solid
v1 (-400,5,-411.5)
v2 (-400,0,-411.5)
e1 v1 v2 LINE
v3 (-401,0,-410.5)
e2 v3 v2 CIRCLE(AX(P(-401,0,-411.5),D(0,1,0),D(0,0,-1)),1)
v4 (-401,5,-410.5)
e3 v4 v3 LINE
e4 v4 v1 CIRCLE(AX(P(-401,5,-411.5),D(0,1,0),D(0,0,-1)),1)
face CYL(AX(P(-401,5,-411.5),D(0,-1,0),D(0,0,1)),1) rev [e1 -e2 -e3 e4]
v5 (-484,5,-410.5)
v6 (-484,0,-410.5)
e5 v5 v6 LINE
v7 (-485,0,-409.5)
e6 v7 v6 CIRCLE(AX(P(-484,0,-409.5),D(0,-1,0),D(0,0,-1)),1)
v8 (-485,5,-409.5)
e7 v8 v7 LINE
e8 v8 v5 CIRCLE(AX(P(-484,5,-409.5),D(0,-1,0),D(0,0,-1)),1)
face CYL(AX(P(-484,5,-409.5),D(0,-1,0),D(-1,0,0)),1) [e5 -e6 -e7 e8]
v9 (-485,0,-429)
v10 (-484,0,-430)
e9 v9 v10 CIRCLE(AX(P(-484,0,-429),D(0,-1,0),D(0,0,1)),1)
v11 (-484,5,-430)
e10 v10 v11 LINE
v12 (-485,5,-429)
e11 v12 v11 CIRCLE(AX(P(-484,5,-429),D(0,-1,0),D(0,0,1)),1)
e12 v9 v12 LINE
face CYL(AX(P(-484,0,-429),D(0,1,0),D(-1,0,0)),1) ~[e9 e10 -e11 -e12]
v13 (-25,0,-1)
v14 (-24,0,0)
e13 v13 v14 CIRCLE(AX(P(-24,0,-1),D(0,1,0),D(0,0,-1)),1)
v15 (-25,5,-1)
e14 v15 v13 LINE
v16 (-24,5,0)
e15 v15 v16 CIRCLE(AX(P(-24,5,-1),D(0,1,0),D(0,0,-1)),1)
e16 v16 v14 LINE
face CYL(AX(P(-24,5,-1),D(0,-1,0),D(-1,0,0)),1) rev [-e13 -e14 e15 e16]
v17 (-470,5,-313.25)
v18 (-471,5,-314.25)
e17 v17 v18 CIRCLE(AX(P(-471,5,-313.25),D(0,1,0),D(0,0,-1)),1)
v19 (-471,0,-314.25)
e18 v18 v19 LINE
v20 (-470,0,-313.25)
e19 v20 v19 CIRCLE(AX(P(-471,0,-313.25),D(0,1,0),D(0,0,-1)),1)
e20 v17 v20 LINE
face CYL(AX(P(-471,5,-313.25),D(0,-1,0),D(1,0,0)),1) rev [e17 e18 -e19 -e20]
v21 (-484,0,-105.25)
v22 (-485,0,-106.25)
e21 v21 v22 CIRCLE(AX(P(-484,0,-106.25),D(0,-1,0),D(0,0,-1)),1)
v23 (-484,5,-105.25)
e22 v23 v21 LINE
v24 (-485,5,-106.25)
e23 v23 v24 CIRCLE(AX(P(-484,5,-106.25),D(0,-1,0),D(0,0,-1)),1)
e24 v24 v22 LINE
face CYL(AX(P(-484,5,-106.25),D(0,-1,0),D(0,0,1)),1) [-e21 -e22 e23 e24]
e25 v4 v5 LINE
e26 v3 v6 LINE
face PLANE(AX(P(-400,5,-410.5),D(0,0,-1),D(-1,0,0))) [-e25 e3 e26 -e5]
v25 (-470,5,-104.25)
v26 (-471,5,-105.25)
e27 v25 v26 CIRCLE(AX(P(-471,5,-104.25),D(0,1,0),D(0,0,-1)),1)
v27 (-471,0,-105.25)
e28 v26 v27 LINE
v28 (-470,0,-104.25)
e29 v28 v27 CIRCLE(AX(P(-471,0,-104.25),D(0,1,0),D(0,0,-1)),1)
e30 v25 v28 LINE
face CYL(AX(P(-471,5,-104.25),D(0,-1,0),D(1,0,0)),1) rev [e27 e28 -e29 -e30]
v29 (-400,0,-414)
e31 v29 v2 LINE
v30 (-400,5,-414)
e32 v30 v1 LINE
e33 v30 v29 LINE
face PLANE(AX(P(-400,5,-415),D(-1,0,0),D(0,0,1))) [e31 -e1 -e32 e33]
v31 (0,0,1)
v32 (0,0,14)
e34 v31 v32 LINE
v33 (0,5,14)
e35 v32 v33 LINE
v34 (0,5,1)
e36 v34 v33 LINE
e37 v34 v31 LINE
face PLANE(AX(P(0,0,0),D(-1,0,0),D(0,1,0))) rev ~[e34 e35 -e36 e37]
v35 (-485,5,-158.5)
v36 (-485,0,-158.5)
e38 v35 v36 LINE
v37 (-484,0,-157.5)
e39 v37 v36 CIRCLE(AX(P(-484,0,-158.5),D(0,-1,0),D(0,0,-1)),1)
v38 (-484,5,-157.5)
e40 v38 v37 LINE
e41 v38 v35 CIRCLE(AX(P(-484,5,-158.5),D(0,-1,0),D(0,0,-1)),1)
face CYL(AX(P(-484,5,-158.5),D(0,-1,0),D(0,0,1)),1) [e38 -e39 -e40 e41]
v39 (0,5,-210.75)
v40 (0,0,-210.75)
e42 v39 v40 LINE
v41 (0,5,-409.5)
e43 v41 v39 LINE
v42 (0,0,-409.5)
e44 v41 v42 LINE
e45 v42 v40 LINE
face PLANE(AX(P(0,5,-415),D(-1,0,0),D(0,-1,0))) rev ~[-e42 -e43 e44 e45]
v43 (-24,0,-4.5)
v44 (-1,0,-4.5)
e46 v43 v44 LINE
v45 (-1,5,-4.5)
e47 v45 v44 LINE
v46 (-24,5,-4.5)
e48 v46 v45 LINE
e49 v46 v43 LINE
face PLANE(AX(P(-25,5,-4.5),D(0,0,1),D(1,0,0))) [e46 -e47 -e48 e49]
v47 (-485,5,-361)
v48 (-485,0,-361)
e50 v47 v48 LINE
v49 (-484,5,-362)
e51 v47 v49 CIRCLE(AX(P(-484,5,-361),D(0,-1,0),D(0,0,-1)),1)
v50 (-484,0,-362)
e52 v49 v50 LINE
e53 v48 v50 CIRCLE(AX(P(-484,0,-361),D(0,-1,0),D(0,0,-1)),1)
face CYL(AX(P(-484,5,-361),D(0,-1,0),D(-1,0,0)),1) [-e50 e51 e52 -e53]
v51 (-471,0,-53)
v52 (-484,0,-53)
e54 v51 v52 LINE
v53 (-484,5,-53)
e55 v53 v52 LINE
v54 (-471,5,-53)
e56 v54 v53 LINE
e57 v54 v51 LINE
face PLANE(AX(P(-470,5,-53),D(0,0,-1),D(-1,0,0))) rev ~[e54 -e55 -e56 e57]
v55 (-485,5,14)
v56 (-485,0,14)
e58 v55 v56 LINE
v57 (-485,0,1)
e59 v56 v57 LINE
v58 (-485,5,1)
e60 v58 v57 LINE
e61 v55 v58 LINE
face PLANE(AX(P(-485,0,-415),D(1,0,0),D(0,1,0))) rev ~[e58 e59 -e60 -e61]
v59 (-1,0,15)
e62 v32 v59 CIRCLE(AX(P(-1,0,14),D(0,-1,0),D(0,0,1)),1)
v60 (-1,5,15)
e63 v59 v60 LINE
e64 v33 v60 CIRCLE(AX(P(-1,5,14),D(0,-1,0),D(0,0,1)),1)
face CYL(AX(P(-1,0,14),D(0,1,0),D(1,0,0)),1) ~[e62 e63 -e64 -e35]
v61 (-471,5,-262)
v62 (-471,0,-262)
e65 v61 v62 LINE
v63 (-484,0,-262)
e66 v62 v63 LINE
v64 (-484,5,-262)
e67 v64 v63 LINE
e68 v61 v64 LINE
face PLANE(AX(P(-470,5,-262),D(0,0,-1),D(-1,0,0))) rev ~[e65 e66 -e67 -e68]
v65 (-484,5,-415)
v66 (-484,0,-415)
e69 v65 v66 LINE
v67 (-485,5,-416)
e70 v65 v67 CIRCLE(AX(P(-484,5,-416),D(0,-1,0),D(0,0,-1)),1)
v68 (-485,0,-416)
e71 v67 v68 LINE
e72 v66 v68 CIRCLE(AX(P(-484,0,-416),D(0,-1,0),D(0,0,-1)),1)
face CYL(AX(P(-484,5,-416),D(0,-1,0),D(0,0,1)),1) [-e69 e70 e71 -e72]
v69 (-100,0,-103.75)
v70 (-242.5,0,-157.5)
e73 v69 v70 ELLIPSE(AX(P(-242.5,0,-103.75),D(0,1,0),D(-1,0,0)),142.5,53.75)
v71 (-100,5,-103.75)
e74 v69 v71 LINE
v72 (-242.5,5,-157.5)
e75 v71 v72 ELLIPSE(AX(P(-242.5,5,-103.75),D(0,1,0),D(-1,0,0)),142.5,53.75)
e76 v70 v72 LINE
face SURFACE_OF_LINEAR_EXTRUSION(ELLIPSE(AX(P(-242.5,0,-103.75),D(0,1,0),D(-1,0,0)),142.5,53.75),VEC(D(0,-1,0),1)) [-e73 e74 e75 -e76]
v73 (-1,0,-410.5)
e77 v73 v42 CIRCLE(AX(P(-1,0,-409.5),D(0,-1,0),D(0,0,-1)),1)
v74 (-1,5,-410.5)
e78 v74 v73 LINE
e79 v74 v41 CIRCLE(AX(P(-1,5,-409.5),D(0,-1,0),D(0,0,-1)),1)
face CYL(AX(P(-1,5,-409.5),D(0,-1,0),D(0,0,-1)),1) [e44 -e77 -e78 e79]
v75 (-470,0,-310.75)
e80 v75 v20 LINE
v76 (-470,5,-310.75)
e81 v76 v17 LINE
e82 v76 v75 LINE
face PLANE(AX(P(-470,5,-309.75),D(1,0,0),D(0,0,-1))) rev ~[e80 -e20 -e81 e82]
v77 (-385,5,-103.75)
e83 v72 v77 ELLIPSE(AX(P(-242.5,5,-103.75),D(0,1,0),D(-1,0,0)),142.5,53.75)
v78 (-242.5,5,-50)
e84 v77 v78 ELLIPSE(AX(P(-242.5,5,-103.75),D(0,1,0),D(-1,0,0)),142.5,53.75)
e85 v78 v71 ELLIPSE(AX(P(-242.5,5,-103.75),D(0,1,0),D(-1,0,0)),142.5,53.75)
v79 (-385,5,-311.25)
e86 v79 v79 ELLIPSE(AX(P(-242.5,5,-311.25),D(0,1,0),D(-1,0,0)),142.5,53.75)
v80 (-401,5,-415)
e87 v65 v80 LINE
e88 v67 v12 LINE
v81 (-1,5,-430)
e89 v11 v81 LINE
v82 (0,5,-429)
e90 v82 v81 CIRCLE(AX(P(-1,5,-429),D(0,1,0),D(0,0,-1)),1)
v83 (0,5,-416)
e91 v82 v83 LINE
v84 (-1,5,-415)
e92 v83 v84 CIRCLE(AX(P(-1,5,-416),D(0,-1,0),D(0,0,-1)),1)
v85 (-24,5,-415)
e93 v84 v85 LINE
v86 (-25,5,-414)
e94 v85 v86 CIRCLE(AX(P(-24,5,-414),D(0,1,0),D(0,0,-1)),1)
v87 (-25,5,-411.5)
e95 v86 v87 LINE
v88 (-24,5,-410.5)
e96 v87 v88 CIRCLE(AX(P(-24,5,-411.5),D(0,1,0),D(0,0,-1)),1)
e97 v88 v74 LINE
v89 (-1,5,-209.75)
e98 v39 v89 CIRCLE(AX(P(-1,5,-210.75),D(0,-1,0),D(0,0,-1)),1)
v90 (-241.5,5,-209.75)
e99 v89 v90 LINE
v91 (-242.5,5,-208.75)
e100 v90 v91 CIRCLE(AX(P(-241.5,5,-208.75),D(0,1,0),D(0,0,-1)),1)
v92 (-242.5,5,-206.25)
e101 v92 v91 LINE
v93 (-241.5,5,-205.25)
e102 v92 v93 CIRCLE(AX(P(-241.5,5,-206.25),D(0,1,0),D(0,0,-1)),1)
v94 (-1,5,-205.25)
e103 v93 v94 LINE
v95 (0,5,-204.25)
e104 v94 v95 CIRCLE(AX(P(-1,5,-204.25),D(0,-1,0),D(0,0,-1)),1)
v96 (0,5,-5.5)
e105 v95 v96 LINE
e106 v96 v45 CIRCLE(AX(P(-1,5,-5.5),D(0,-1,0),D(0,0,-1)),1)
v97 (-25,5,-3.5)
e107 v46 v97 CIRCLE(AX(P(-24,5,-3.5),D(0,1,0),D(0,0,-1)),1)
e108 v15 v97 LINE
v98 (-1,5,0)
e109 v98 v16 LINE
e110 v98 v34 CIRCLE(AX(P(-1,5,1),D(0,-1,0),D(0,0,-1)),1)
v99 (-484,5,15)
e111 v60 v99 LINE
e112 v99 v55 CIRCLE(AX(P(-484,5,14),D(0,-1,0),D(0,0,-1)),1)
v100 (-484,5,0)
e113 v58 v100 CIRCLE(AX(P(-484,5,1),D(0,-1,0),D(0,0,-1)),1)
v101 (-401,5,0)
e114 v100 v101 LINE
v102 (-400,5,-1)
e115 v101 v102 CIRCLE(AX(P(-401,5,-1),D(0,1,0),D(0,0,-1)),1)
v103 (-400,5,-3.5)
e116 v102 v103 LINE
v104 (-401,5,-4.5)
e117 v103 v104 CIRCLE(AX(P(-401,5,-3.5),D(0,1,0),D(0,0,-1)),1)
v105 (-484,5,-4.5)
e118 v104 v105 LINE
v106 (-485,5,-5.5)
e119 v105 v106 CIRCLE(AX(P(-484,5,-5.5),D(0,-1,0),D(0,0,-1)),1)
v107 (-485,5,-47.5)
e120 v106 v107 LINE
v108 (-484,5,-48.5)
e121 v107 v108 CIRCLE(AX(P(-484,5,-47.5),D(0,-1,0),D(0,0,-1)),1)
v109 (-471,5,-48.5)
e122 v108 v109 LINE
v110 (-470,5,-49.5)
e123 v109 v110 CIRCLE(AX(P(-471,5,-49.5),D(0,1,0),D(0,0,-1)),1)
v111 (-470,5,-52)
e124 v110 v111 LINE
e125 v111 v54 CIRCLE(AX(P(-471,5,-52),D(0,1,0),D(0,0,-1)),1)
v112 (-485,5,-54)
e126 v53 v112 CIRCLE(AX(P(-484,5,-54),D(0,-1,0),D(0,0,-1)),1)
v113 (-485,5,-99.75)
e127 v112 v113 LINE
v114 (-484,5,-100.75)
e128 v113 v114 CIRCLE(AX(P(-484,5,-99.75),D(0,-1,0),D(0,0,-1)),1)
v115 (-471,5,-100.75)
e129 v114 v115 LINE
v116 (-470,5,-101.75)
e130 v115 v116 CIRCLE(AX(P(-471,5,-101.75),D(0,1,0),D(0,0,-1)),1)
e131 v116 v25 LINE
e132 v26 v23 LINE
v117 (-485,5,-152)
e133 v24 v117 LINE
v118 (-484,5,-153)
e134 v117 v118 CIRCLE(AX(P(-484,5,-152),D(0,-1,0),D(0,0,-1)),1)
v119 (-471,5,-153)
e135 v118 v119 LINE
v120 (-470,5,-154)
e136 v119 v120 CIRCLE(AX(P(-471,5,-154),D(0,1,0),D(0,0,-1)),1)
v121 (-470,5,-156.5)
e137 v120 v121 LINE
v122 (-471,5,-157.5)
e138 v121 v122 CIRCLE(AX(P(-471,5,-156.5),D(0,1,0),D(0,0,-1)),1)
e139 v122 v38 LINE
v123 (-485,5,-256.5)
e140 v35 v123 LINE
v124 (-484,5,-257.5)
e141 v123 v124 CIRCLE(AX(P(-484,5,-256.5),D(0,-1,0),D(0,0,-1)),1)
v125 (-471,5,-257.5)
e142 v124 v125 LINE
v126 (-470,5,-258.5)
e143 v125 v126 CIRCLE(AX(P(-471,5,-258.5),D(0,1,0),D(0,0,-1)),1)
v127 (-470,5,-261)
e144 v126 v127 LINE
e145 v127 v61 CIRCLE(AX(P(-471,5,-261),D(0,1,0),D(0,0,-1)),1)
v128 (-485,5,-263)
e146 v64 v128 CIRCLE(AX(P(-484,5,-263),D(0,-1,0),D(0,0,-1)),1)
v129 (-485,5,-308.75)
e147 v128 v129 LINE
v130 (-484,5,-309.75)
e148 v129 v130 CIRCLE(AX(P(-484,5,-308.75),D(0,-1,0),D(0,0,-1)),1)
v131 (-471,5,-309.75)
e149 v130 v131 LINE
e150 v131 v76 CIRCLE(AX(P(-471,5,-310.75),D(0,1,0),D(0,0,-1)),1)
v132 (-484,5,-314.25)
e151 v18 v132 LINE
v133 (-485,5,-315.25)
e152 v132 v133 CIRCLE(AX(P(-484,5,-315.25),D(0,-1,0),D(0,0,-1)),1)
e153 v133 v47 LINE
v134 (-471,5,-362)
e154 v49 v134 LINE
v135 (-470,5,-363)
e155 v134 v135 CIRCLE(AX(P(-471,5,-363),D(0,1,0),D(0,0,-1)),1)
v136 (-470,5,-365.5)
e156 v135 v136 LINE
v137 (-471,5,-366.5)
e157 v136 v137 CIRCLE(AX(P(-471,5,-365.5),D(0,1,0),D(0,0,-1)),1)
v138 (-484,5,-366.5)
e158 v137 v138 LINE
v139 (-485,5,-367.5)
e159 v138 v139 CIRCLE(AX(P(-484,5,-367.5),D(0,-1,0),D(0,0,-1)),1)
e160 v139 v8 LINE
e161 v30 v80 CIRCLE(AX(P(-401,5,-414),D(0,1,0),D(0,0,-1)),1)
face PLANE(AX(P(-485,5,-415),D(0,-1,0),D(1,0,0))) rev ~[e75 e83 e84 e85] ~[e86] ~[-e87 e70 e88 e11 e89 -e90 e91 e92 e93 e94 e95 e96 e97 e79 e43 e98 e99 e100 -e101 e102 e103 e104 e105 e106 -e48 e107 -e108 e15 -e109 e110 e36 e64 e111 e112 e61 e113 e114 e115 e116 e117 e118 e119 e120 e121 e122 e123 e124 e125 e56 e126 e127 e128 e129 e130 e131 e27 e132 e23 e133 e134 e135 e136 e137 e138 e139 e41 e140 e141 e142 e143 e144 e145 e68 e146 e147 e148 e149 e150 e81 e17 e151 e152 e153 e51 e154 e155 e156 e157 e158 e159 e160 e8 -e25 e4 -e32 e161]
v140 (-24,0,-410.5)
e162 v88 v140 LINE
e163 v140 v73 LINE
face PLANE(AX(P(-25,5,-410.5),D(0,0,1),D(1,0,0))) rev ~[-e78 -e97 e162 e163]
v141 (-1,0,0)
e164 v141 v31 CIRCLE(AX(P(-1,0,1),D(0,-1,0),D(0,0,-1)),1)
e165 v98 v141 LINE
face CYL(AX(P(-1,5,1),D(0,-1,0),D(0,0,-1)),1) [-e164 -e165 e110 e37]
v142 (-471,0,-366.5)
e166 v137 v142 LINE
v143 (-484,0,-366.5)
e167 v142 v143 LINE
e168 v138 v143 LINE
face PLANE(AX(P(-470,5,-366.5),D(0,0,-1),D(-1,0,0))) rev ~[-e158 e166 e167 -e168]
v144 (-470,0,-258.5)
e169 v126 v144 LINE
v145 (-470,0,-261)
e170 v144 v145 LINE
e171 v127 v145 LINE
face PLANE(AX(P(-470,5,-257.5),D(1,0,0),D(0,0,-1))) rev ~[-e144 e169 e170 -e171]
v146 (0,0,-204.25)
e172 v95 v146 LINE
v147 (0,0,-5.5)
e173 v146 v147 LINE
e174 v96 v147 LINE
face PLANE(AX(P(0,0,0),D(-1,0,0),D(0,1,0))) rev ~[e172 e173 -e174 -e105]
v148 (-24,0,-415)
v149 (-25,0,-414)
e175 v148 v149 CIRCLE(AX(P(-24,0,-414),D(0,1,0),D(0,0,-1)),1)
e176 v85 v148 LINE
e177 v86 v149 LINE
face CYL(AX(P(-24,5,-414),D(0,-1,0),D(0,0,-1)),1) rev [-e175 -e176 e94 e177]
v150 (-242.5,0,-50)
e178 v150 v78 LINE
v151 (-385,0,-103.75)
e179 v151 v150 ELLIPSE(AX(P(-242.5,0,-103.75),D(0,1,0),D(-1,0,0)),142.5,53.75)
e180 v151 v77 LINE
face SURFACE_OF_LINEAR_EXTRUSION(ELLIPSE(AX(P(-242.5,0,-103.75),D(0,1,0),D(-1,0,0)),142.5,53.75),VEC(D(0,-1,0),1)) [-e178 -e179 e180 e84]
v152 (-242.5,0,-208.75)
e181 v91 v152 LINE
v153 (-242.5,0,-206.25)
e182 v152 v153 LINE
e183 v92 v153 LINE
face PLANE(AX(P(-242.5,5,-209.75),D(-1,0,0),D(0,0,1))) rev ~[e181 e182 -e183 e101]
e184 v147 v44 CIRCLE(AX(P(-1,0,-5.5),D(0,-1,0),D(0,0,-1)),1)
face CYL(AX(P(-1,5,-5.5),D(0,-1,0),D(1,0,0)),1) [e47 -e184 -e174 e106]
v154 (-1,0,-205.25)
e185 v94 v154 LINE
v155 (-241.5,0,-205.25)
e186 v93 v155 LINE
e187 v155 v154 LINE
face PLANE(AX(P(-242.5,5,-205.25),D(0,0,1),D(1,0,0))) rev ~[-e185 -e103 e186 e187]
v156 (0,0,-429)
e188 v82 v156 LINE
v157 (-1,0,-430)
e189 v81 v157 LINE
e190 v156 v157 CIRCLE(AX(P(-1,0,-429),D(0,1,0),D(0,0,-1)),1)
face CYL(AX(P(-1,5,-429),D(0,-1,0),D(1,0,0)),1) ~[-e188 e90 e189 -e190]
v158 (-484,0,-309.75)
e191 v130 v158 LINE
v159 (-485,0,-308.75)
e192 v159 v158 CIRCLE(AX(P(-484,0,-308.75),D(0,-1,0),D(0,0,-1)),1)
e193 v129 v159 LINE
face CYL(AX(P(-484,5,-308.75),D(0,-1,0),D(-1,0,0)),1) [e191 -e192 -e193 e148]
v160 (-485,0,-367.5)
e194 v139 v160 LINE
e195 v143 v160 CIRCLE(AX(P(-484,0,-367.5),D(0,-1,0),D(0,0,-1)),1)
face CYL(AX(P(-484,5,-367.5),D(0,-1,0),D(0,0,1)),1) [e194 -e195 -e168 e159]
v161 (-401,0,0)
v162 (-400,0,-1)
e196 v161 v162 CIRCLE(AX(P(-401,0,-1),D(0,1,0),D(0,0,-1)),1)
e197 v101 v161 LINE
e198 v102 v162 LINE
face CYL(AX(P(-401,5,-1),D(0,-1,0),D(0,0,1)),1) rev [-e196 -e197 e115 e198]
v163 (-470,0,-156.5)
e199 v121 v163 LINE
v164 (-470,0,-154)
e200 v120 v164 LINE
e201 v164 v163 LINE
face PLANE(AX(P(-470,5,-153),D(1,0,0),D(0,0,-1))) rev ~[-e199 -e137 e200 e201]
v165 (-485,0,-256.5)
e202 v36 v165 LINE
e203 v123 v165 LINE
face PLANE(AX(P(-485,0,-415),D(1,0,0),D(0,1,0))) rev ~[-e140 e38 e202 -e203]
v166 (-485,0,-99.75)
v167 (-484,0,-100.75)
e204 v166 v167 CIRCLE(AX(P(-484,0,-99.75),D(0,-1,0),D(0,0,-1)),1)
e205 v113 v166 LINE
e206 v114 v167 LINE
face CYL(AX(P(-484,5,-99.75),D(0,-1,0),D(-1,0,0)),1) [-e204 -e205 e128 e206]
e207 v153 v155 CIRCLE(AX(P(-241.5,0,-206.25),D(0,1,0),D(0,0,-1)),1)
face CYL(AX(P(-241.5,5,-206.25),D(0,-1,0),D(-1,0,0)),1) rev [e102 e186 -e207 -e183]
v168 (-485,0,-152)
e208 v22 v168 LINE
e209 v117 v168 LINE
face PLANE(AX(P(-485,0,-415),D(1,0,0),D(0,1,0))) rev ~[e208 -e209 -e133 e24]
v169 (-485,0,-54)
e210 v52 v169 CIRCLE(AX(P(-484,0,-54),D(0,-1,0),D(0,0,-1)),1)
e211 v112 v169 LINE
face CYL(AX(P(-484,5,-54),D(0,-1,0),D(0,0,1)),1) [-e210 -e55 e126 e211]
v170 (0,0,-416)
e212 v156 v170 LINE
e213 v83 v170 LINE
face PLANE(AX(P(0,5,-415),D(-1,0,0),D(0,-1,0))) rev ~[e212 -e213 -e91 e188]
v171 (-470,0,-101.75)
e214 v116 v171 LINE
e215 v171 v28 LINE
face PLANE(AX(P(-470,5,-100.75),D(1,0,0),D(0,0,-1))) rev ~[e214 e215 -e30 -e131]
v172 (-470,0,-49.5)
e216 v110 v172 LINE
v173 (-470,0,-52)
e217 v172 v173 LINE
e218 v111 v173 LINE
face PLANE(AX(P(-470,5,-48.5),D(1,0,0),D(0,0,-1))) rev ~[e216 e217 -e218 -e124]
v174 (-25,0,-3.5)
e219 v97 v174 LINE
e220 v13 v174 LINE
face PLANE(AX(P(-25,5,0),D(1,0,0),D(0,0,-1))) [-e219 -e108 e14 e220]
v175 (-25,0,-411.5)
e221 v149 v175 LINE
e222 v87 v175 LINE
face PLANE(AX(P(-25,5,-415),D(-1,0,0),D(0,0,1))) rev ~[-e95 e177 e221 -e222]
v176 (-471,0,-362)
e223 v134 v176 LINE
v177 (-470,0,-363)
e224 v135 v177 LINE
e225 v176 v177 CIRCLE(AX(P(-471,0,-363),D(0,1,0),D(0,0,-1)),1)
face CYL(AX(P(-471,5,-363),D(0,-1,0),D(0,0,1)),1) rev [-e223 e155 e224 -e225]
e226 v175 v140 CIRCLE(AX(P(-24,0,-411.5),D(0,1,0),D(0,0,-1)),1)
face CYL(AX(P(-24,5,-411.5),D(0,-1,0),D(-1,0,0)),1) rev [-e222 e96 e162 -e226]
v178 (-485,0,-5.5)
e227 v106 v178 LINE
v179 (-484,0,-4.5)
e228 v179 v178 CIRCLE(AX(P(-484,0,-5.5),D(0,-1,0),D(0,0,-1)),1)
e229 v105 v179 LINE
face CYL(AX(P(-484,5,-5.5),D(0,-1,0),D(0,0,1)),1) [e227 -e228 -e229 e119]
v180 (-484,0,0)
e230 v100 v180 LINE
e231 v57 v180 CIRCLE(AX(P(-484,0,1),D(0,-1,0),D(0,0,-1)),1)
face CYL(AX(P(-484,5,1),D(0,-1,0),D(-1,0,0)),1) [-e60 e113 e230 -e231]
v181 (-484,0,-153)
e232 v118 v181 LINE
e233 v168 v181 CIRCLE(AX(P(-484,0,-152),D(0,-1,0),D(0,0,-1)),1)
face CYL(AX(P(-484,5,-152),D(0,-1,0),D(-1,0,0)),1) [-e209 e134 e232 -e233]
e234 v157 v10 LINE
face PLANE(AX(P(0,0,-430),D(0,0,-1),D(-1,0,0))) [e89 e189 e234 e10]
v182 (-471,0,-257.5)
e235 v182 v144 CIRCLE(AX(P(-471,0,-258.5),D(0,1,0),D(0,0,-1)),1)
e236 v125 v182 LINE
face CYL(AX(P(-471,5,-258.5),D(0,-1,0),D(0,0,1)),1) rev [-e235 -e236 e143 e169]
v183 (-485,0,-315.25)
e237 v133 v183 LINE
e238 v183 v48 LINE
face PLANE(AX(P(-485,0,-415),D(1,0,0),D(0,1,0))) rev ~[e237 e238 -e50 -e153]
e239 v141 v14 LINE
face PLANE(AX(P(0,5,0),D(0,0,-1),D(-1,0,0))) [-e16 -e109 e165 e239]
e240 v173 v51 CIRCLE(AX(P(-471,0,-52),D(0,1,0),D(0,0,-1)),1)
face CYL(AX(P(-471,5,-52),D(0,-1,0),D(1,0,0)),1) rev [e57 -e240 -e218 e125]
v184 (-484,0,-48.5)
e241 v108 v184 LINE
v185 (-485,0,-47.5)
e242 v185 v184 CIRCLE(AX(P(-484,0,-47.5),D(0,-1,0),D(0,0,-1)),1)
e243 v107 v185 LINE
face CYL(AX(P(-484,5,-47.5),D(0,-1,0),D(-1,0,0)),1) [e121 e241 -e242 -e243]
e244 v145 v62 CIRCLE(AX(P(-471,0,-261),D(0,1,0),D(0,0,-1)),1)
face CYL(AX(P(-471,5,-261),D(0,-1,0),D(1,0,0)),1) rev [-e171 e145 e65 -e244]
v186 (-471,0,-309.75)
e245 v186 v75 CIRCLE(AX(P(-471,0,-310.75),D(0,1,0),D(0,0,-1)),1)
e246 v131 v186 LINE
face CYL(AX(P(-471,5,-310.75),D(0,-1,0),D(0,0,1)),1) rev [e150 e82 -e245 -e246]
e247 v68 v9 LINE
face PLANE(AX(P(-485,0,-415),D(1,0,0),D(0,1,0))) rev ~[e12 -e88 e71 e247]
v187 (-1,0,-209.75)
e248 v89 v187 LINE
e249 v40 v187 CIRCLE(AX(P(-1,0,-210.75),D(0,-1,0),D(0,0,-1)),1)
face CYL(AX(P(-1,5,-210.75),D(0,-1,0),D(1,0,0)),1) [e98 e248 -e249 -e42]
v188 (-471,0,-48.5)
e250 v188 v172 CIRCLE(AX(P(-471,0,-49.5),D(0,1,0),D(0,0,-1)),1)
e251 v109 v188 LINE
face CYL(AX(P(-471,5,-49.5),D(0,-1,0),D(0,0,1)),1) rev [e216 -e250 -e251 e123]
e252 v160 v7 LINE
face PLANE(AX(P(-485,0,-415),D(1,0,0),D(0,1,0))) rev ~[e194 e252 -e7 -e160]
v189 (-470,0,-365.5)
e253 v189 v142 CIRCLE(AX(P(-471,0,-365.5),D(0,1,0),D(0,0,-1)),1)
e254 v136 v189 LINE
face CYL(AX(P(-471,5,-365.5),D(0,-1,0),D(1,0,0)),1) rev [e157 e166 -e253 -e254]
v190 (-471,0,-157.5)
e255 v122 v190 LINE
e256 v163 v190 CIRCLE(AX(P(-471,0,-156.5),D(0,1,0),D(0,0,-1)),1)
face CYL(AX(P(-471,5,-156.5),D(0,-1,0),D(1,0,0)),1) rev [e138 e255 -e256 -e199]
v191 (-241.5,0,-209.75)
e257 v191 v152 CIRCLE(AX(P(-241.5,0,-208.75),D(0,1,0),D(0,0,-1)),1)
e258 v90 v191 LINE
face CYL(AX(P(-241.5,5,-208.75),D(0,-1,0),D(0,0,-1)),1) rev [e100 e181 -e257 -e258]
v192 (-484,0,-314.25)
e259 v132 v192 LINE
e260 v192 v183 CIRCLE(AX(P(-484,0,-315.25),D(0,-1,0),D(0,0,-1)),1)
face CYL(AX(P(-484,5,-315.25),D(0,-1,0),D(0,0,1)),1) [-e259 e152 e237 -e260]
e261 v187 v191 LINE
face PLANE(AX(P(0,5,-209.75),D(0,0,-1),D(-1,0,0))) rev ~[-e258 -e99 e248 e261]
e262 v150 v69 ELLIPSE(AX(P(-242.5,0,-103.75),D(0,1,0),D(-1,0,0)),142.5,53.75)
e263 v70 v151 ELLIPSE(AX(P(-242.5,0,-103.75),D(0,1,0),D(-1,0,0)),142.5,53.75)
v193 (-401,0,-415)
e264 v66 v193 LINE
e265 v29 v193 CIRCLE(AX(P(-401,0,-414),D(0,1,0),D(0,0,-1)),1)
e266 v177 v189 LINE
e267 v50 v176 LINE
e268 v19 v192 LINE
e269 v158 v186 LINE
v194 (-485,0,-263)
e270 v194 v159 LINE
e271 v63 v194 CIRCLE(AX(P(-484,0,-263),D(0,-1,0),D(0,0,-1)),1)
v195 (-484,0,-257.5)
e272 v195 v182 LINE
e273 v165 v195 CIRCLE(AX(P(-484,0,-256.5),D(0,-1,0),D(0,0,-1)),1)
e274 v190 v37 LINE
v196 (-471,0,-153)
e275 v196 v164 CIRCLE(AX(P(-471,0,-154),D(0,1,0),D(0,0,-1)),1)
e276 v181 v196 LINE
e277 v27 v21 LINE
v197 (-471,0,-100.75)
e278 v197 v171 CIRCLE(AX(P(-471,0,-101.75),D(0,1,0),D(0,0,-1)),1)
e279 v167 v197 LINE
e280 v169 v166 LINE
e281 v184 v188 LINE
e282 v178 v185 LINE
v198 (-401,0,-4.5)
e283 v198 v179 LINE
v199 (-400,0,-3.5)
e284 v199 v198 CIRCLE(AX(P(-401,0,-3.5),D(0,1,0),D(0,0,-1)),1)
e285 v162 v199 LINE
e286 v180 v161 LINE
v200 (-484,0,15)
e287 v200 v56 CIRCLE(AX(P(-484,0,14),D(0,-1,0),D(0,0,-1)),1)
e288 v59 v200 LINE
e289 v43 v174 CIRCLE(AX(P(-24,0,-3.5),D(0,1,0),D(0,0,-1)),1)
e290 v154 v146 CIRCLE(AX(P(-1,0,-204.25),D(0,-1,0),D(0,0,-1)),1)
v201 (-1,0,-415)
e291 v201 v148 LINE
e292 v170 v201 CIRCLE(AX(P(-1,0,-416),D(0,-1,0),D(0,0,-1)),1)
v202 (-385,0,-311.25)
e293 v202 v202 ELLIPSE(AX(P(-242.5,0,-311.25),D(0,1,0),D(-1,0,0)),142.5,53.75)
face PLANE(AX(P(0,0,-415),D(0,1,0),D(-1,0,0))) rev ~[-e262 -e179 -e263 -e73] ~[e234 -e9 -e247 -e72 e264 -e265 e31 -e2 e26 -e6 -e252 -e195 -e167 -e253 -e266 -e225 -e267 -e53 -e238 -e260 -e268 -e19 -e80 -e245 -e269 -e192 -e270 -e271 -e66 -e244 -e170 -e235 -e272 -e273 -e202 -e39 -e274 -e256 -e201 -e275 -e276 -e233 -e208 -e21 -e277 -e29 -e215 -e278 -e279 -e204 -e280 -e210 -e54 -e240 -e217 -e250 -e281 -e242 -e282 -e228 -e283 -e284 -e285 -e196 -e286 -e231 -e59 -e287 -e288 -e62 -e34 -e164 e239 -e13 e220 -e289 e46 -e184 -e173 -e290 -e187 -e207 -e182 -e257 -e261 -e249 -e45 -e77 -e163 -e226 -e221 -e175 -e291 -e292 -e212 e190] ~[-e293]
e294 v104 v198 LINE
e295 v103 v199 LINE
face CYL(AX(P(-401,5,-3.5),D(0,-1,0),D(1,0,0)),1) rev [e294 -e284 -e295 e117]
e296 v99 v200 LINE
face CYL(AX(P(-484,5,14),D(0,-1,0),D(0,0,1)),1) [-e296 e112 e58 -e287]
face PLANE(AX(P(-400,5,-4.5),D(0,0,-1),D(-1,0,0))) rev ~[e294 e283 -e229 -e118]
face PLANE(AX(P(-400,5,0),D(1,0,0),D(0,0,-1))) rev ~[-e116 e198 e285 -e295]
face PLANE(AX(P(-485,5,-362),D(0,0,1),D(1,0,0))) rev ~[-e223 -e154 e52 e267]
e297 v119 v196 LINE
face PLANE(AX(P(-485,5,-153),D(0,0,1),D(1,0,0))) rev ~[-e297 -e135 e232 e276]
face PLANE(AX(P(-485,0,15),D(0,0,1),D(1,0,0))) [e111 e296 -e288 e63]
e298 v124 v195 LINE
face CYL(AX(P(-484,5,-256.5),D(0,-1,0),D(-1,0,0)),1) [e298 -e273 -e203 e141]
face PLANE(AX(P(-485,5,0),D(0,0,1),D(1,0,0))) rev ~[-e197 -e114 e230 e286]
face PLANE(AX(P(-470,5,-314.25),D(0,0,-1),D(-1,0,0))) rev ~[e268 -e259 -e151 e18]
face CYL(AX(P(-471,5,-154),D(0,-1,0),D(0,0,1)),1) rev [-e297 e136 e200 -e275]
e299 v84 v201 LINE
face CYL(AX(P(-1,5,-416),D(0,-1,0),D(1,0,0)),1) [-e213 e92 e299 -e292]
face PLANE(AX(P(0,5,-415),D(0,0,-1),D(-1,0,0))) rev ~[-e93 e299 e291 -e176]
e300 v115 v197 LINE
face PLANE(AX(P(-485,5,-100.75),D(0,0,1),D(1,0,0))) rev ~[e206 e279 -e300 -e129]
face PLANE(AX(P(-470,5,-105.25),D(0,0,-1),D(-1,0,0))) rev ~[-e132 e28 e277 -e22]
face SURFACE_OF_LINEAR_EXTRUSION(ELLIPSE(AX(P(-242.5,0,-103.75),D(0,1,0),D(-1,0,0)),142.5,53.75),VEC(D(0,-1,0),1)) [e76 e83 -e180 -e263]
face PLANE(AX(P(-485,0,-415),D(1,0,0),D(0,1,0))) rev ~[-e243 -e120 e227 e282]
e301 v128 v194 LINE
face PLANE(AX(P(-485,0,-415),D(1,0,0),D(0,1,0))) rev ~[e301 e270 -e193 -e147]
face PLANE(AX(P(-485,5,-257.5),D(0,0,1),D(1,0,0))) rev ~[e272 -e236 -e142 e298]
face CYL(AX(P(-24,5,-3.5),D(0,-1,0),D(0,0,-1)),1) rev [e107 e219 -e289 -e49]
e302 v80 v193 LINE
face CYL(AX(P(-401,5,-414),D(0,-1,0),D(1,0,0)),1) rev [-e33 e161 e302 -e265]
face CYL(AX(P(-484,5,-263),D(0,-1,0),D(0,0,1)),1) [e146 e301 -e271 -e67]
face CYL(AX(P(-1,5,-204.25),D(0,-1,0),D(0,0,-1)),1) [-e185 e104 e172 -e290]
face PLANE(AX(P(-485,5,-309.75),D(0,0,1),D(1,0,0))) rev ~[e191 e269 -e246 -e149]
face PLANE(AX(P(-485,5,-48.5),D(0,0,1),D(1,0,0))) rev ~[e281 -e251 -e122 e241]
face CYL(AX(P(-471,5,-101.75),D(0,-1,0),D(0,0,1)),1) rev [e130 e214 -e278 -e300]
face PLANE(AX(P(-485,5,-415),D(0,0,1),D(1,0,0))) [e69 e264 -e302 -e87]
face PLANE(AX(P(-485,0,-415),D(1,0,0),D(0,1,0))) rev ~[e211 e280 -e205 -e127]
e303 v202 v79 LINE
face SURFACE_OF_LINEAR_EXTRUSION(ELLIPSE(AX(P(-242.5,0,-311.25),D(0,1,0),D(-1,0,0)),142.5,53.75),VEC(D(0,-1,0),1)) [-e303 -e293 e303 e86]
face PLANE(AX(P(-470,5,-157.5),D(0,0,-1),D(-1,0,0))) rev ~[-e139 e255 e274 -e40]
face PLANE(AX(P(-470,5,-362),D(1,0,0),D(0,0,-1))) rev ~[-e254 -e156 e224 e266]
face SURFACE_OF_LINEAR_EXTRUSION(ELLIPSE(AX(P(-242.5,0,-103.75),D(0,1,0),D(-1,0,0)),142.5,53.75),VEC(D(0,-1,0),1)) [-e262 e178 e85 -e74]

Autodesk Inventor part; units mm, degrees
ref_plane "YZ Plane" through (0, 0, 0) normal (1, 0, 0) x (0, 1, 0)
ref_plane "XZ Plane" through (0, 0, 0) normal (0, 1, 0) x (-1, 0, 0)
ref_plane "XY Plane" through (0, 0, 0) normal (0, 0, 1) x (1, 0, 0)
sketch "Sketch1" plane through (0, 0, 0) normal (0, 1, 0) x (-1, 0, 0)
  line L0 (0, 0) -> (485, 0)
  line L1 (485, 0) -> (485, -415)
  line L2 (485, -415) -> (0, -415)
  line L3 (0, -415) -> (0, 0)
  line L4 (485, -207.5) -> (0, -207.5)
  line L5 (0, -207.5) -> (0, 0)
  line L6 (0, -103.75) -> (100, -103.75)
  line L7 (485, -103.75) -> (385, -103.75)
  line L8 (242.5, 0) -> (242.5, -103.75)
  line L9 (242.5, -207.5) -> (242.5, -157.5)
  ellipse E0 centre (242.5, -103.75) end of major axis (385, -103.75) minor radius 53.75
  ellipse E1 centre (242.5, -311.25) end of major axis (385, -311.25) minor radius 53.75
  dimension "d0" = 485
  dimension "d1" = 415
  dimension "d2" = 100
  dimension "d3" = 100
  dimension "d4" = 103.75
  dimension "d5" = 50
  dimension "d6" = 103.75
  dimension "d7" = 103.75
extrude "Extrusion1" add sketch "Sketch1" along normal blind 5 contours L0 L8 E0 L6 L3 | L0 L1 L7 E0 L8 | L6 E0 L9 L4 L3 | L4 L1 L2 L3 | L1 L4 L9 E0 L7
sketch "Sketch2" plane through (0, 5, 0) normal (0, 1, 0) x (1, 0, 0)
  line L0 (0, 0) -> (0, 415) projected
  line L1 (0, 207.5) -> (0, 209.75)
  line L2 (0, 209.75) -> (0, 207.5)
  line L3 (-485, 0) -> (0, 0) projected
  line L4 (-242.5, 0) -> (-242.5, 207.5)
  line L5 (0, 209.75) -> (-242.5, 209.75)
  line L6 (-242.5, 209.75) -> (-242.5, 205.25)
  line L7 (-242.5, 205.25) -> (0, 205.25)
  line L8 (0, 205.25) -> (0, 209.75)
  point P0 (0, 205.25)
  dimension "d10" = 2.25
  dimension "d11" = 4.5
extrude "Extrusion2" cut sketch "Sketch2" against normal blind 5 contours L7 L4 L6 L5 L0
sketch "Sketch3" plane through (-485, 0, 0) normal (0, 0, 1) x (1, 0, 0)
  line L0 (485, 0) -> (0, 0) projected
  line L1 (485, 0) -> (485, 5) projected
  line L2 (0, 0) -> (485, 0)
  line L3 (485, 0) -> (485, 5)
  line L4 (485, 5) -> (0, 5)
  line L5 (0, 5) -> (0, 0)
extrude "Extrusion3" add sketch "Sketch3" along normal blind 15
sketch "Sketch4" plane through (0, 0, -415) normal (0, 0, -1) x (-1, 0, 0)
  line L0 (485, 0) -> (485, 5) projected
  line L1 (485, 5) -> (0, 5)
  line L2 (0, 5) -> (0, 0)
  line L3 (0, 0) -> (485, 0)
  line L4 (485, 0) -> (485, 5)
extrude "Extrusion4" add sketch "Sketch4" along normal blind 15
sketch "Sketch5" plane through (0, 5, 0) normal (0, 1, 0) x (1, 0, 0)
  line L0 (-485, -15) -> (-485, 430) projected
  line L1 (-485, 207.5) -> (54.8472, 207.5)
  line L2 (-485, 0) -> (-400, 0)
  line L3 (-400, 0) -> (-400, 4.5)
  line L4 (-400, 4.5) -> (-485, 4.5)
  line L5 (-485, 4.5) -> (-485, 0)
  line L6 (0, 0) -> (-25, 0)
  line L7 (-25, 0) -> (-25, 4.5)
  line L8 (-25, 4.5) -> (0, 4.5)
  line L9 (0, 4.5) -> (0, 0)
  line L10 (0, -15) -> (-485, -15) projected
  line L11 (-485, 415) -> (-400, 415)
  line L12 (-400, 415) -> (-400, 410.5)
  line L13 (-400, 410.5) -> (-485, 410.5)
  line L14 (-485, 410.5) -> (-485, 415)
  line L15 (0, 415) -> (-25, 415)
  line L16 (-25, 415) -> (-25, 410.5)
  line L17 (-25, 410.5) -> (0, 410.5)
  line L18 (0, 410.5) -> (0, 415)
  dimension "d18" = 85
  dimension "d19" = 4.5
  dimension "d20" = 25
  dimension "d21" = 4.5
  dimension "d22" = 15
extrude "Extrusion5" cut sketch "Sketch5" against normal blind 5
sketch "Sketch6" plane through (0, 5, 0) normal (0, 1, 0) x (1, 0, 0)
  line L0 (-485, 4.5) -> (-485, 410.5) projected
  line L1 (-485, 4.5) -> (-485, 48.5)
  line L2 (-485, 48.5) -> (-470, 48.5)
  line L3 (-470, 48.5) -> (-470, 53)
  line L4 (-470, 53) -> (-485, 53)
  line L5 (-485, 53) -> (-485, 48.5)
  line L6 (-485, 100.75) -> (-470, 100.75)
  line L7 (-470, 100.75) -> (-470, 105.25)
  line L8 (-470, 105.25) -> (-485, 105.25)
  line L9 (-485, 105.25) -> (-485, 100.75)
  line L10 (-485, 153) -> (-470, 153)
  line L11 (-470, 153) -> (-470, 157.5)
  line L12 (-470, 157.5) -> (-485, 157.5)
  line L13 (-485, 157.5) -> (-485, 153)
  line L14 (-485, 205.25) -> (-470, 205.25)
  line L15 (-470, 205.25) -> (-470, 209.75)
  line L16 (-470, 209.75) -> (-485, 209.75)
  line L17 (-485, 209.75) -> (-485, 205.25)
  line L18 (-485, 257.5) -> (-470, 257.5)
  line L19 (-470, 257.5) -> (-470, 262)
  line L20 (-470, 262) -> (-485, 262)
  line L21 (-485, 262) -> (-485, 257.5)
  line L22 (-485, 309.75) -> (-470, 309.75)
  line L23 (-470, 309.75) -> (-470, 314.25)
  line L24 (-470, 314.25) -> (-485, 314.25)
  line L25 (-485, 314.25) -> (-485, 309.75)
  line L26 (-485, 362) -> (-470, 362)
  line L27 (-470, 362) -> (-470, 366.5)
  line L28 (-470, 366.5) -> (-485, 366.5)
  line L29 (-485, 366.5) -> (-485, 362)
  point P0 (0, 0)
  dimension "d25" = 44
  dimension "d26" = 15
  dimension "d27" = 4.5
  dimension "d30" = 52.25
extrude "Extrusion6" cut sketch "Sketch6" against normal blind 5 contours L0 L28 L27 L26 | L0 L24 L23 L22 | L0 L20 L19 L18 | L0 L12 L11 L10 | L0 L8 L7 L6 | L0 L4 L3 L2
fillet "Fillet1" radius 1 48 edges at (-485, 2.5, -4.5) (-485, 2.5, 0) (-485, 2.5, 15) (-400, 2.5, 0) (-400, 2.5, -4.5) (-470, 2.5, -48.5) (-470, 2.5, -53) (-485, 2.5, -53) (-485, 2.5, -48.5) (-470, 2.5, -100.75) (-470, 2.5, -105.25) (-485, 2.5, -105.25) (-485, 2.5, -100.75) (-485, 2.5, -157.5) (-485, 2.5, -153) (-470, 2.5, -153) (-470, 2.5, -157.5) (-470, 2.5, -257.5) (-470, 2.5, -262) (-485, 2.5, -262) (-485, 2.5, -257.5) (-485, 2.5, -314.25) (-485, 2.5, -309.75) (-470, 2.5, -309.75) (-470, 2.5, -314.25) (-470, 2.5, -362) (-470, 2.5, -366.5) (-485, 2.5, -366.5) (-485, 2.5, -362) (-485, 2.5, -410.5) (-485, 2.5, -415) (-400, 2.5, -410.5) (-400, 2.5, -415) (-485, 2.5, -430) (0, 2.5, -430) (0, 2.5, -415) (0, 2.5, -410.5) (-25, 2.5, -415) (-25, 2.5, -410.5) (-242.5, 2.5, -209.75) (-242.5, 2.5, -205.25) (0, 2.5, -209.75) (0, 2.5, -205.25) (0, 2.5, -4.5) (0, 2.5, 0) (-25, 2.5, -4.5) (-25, 2.5, 0) (0, 2.5, 15)
properties part number "inside_leg" material "Foam Core Board"
